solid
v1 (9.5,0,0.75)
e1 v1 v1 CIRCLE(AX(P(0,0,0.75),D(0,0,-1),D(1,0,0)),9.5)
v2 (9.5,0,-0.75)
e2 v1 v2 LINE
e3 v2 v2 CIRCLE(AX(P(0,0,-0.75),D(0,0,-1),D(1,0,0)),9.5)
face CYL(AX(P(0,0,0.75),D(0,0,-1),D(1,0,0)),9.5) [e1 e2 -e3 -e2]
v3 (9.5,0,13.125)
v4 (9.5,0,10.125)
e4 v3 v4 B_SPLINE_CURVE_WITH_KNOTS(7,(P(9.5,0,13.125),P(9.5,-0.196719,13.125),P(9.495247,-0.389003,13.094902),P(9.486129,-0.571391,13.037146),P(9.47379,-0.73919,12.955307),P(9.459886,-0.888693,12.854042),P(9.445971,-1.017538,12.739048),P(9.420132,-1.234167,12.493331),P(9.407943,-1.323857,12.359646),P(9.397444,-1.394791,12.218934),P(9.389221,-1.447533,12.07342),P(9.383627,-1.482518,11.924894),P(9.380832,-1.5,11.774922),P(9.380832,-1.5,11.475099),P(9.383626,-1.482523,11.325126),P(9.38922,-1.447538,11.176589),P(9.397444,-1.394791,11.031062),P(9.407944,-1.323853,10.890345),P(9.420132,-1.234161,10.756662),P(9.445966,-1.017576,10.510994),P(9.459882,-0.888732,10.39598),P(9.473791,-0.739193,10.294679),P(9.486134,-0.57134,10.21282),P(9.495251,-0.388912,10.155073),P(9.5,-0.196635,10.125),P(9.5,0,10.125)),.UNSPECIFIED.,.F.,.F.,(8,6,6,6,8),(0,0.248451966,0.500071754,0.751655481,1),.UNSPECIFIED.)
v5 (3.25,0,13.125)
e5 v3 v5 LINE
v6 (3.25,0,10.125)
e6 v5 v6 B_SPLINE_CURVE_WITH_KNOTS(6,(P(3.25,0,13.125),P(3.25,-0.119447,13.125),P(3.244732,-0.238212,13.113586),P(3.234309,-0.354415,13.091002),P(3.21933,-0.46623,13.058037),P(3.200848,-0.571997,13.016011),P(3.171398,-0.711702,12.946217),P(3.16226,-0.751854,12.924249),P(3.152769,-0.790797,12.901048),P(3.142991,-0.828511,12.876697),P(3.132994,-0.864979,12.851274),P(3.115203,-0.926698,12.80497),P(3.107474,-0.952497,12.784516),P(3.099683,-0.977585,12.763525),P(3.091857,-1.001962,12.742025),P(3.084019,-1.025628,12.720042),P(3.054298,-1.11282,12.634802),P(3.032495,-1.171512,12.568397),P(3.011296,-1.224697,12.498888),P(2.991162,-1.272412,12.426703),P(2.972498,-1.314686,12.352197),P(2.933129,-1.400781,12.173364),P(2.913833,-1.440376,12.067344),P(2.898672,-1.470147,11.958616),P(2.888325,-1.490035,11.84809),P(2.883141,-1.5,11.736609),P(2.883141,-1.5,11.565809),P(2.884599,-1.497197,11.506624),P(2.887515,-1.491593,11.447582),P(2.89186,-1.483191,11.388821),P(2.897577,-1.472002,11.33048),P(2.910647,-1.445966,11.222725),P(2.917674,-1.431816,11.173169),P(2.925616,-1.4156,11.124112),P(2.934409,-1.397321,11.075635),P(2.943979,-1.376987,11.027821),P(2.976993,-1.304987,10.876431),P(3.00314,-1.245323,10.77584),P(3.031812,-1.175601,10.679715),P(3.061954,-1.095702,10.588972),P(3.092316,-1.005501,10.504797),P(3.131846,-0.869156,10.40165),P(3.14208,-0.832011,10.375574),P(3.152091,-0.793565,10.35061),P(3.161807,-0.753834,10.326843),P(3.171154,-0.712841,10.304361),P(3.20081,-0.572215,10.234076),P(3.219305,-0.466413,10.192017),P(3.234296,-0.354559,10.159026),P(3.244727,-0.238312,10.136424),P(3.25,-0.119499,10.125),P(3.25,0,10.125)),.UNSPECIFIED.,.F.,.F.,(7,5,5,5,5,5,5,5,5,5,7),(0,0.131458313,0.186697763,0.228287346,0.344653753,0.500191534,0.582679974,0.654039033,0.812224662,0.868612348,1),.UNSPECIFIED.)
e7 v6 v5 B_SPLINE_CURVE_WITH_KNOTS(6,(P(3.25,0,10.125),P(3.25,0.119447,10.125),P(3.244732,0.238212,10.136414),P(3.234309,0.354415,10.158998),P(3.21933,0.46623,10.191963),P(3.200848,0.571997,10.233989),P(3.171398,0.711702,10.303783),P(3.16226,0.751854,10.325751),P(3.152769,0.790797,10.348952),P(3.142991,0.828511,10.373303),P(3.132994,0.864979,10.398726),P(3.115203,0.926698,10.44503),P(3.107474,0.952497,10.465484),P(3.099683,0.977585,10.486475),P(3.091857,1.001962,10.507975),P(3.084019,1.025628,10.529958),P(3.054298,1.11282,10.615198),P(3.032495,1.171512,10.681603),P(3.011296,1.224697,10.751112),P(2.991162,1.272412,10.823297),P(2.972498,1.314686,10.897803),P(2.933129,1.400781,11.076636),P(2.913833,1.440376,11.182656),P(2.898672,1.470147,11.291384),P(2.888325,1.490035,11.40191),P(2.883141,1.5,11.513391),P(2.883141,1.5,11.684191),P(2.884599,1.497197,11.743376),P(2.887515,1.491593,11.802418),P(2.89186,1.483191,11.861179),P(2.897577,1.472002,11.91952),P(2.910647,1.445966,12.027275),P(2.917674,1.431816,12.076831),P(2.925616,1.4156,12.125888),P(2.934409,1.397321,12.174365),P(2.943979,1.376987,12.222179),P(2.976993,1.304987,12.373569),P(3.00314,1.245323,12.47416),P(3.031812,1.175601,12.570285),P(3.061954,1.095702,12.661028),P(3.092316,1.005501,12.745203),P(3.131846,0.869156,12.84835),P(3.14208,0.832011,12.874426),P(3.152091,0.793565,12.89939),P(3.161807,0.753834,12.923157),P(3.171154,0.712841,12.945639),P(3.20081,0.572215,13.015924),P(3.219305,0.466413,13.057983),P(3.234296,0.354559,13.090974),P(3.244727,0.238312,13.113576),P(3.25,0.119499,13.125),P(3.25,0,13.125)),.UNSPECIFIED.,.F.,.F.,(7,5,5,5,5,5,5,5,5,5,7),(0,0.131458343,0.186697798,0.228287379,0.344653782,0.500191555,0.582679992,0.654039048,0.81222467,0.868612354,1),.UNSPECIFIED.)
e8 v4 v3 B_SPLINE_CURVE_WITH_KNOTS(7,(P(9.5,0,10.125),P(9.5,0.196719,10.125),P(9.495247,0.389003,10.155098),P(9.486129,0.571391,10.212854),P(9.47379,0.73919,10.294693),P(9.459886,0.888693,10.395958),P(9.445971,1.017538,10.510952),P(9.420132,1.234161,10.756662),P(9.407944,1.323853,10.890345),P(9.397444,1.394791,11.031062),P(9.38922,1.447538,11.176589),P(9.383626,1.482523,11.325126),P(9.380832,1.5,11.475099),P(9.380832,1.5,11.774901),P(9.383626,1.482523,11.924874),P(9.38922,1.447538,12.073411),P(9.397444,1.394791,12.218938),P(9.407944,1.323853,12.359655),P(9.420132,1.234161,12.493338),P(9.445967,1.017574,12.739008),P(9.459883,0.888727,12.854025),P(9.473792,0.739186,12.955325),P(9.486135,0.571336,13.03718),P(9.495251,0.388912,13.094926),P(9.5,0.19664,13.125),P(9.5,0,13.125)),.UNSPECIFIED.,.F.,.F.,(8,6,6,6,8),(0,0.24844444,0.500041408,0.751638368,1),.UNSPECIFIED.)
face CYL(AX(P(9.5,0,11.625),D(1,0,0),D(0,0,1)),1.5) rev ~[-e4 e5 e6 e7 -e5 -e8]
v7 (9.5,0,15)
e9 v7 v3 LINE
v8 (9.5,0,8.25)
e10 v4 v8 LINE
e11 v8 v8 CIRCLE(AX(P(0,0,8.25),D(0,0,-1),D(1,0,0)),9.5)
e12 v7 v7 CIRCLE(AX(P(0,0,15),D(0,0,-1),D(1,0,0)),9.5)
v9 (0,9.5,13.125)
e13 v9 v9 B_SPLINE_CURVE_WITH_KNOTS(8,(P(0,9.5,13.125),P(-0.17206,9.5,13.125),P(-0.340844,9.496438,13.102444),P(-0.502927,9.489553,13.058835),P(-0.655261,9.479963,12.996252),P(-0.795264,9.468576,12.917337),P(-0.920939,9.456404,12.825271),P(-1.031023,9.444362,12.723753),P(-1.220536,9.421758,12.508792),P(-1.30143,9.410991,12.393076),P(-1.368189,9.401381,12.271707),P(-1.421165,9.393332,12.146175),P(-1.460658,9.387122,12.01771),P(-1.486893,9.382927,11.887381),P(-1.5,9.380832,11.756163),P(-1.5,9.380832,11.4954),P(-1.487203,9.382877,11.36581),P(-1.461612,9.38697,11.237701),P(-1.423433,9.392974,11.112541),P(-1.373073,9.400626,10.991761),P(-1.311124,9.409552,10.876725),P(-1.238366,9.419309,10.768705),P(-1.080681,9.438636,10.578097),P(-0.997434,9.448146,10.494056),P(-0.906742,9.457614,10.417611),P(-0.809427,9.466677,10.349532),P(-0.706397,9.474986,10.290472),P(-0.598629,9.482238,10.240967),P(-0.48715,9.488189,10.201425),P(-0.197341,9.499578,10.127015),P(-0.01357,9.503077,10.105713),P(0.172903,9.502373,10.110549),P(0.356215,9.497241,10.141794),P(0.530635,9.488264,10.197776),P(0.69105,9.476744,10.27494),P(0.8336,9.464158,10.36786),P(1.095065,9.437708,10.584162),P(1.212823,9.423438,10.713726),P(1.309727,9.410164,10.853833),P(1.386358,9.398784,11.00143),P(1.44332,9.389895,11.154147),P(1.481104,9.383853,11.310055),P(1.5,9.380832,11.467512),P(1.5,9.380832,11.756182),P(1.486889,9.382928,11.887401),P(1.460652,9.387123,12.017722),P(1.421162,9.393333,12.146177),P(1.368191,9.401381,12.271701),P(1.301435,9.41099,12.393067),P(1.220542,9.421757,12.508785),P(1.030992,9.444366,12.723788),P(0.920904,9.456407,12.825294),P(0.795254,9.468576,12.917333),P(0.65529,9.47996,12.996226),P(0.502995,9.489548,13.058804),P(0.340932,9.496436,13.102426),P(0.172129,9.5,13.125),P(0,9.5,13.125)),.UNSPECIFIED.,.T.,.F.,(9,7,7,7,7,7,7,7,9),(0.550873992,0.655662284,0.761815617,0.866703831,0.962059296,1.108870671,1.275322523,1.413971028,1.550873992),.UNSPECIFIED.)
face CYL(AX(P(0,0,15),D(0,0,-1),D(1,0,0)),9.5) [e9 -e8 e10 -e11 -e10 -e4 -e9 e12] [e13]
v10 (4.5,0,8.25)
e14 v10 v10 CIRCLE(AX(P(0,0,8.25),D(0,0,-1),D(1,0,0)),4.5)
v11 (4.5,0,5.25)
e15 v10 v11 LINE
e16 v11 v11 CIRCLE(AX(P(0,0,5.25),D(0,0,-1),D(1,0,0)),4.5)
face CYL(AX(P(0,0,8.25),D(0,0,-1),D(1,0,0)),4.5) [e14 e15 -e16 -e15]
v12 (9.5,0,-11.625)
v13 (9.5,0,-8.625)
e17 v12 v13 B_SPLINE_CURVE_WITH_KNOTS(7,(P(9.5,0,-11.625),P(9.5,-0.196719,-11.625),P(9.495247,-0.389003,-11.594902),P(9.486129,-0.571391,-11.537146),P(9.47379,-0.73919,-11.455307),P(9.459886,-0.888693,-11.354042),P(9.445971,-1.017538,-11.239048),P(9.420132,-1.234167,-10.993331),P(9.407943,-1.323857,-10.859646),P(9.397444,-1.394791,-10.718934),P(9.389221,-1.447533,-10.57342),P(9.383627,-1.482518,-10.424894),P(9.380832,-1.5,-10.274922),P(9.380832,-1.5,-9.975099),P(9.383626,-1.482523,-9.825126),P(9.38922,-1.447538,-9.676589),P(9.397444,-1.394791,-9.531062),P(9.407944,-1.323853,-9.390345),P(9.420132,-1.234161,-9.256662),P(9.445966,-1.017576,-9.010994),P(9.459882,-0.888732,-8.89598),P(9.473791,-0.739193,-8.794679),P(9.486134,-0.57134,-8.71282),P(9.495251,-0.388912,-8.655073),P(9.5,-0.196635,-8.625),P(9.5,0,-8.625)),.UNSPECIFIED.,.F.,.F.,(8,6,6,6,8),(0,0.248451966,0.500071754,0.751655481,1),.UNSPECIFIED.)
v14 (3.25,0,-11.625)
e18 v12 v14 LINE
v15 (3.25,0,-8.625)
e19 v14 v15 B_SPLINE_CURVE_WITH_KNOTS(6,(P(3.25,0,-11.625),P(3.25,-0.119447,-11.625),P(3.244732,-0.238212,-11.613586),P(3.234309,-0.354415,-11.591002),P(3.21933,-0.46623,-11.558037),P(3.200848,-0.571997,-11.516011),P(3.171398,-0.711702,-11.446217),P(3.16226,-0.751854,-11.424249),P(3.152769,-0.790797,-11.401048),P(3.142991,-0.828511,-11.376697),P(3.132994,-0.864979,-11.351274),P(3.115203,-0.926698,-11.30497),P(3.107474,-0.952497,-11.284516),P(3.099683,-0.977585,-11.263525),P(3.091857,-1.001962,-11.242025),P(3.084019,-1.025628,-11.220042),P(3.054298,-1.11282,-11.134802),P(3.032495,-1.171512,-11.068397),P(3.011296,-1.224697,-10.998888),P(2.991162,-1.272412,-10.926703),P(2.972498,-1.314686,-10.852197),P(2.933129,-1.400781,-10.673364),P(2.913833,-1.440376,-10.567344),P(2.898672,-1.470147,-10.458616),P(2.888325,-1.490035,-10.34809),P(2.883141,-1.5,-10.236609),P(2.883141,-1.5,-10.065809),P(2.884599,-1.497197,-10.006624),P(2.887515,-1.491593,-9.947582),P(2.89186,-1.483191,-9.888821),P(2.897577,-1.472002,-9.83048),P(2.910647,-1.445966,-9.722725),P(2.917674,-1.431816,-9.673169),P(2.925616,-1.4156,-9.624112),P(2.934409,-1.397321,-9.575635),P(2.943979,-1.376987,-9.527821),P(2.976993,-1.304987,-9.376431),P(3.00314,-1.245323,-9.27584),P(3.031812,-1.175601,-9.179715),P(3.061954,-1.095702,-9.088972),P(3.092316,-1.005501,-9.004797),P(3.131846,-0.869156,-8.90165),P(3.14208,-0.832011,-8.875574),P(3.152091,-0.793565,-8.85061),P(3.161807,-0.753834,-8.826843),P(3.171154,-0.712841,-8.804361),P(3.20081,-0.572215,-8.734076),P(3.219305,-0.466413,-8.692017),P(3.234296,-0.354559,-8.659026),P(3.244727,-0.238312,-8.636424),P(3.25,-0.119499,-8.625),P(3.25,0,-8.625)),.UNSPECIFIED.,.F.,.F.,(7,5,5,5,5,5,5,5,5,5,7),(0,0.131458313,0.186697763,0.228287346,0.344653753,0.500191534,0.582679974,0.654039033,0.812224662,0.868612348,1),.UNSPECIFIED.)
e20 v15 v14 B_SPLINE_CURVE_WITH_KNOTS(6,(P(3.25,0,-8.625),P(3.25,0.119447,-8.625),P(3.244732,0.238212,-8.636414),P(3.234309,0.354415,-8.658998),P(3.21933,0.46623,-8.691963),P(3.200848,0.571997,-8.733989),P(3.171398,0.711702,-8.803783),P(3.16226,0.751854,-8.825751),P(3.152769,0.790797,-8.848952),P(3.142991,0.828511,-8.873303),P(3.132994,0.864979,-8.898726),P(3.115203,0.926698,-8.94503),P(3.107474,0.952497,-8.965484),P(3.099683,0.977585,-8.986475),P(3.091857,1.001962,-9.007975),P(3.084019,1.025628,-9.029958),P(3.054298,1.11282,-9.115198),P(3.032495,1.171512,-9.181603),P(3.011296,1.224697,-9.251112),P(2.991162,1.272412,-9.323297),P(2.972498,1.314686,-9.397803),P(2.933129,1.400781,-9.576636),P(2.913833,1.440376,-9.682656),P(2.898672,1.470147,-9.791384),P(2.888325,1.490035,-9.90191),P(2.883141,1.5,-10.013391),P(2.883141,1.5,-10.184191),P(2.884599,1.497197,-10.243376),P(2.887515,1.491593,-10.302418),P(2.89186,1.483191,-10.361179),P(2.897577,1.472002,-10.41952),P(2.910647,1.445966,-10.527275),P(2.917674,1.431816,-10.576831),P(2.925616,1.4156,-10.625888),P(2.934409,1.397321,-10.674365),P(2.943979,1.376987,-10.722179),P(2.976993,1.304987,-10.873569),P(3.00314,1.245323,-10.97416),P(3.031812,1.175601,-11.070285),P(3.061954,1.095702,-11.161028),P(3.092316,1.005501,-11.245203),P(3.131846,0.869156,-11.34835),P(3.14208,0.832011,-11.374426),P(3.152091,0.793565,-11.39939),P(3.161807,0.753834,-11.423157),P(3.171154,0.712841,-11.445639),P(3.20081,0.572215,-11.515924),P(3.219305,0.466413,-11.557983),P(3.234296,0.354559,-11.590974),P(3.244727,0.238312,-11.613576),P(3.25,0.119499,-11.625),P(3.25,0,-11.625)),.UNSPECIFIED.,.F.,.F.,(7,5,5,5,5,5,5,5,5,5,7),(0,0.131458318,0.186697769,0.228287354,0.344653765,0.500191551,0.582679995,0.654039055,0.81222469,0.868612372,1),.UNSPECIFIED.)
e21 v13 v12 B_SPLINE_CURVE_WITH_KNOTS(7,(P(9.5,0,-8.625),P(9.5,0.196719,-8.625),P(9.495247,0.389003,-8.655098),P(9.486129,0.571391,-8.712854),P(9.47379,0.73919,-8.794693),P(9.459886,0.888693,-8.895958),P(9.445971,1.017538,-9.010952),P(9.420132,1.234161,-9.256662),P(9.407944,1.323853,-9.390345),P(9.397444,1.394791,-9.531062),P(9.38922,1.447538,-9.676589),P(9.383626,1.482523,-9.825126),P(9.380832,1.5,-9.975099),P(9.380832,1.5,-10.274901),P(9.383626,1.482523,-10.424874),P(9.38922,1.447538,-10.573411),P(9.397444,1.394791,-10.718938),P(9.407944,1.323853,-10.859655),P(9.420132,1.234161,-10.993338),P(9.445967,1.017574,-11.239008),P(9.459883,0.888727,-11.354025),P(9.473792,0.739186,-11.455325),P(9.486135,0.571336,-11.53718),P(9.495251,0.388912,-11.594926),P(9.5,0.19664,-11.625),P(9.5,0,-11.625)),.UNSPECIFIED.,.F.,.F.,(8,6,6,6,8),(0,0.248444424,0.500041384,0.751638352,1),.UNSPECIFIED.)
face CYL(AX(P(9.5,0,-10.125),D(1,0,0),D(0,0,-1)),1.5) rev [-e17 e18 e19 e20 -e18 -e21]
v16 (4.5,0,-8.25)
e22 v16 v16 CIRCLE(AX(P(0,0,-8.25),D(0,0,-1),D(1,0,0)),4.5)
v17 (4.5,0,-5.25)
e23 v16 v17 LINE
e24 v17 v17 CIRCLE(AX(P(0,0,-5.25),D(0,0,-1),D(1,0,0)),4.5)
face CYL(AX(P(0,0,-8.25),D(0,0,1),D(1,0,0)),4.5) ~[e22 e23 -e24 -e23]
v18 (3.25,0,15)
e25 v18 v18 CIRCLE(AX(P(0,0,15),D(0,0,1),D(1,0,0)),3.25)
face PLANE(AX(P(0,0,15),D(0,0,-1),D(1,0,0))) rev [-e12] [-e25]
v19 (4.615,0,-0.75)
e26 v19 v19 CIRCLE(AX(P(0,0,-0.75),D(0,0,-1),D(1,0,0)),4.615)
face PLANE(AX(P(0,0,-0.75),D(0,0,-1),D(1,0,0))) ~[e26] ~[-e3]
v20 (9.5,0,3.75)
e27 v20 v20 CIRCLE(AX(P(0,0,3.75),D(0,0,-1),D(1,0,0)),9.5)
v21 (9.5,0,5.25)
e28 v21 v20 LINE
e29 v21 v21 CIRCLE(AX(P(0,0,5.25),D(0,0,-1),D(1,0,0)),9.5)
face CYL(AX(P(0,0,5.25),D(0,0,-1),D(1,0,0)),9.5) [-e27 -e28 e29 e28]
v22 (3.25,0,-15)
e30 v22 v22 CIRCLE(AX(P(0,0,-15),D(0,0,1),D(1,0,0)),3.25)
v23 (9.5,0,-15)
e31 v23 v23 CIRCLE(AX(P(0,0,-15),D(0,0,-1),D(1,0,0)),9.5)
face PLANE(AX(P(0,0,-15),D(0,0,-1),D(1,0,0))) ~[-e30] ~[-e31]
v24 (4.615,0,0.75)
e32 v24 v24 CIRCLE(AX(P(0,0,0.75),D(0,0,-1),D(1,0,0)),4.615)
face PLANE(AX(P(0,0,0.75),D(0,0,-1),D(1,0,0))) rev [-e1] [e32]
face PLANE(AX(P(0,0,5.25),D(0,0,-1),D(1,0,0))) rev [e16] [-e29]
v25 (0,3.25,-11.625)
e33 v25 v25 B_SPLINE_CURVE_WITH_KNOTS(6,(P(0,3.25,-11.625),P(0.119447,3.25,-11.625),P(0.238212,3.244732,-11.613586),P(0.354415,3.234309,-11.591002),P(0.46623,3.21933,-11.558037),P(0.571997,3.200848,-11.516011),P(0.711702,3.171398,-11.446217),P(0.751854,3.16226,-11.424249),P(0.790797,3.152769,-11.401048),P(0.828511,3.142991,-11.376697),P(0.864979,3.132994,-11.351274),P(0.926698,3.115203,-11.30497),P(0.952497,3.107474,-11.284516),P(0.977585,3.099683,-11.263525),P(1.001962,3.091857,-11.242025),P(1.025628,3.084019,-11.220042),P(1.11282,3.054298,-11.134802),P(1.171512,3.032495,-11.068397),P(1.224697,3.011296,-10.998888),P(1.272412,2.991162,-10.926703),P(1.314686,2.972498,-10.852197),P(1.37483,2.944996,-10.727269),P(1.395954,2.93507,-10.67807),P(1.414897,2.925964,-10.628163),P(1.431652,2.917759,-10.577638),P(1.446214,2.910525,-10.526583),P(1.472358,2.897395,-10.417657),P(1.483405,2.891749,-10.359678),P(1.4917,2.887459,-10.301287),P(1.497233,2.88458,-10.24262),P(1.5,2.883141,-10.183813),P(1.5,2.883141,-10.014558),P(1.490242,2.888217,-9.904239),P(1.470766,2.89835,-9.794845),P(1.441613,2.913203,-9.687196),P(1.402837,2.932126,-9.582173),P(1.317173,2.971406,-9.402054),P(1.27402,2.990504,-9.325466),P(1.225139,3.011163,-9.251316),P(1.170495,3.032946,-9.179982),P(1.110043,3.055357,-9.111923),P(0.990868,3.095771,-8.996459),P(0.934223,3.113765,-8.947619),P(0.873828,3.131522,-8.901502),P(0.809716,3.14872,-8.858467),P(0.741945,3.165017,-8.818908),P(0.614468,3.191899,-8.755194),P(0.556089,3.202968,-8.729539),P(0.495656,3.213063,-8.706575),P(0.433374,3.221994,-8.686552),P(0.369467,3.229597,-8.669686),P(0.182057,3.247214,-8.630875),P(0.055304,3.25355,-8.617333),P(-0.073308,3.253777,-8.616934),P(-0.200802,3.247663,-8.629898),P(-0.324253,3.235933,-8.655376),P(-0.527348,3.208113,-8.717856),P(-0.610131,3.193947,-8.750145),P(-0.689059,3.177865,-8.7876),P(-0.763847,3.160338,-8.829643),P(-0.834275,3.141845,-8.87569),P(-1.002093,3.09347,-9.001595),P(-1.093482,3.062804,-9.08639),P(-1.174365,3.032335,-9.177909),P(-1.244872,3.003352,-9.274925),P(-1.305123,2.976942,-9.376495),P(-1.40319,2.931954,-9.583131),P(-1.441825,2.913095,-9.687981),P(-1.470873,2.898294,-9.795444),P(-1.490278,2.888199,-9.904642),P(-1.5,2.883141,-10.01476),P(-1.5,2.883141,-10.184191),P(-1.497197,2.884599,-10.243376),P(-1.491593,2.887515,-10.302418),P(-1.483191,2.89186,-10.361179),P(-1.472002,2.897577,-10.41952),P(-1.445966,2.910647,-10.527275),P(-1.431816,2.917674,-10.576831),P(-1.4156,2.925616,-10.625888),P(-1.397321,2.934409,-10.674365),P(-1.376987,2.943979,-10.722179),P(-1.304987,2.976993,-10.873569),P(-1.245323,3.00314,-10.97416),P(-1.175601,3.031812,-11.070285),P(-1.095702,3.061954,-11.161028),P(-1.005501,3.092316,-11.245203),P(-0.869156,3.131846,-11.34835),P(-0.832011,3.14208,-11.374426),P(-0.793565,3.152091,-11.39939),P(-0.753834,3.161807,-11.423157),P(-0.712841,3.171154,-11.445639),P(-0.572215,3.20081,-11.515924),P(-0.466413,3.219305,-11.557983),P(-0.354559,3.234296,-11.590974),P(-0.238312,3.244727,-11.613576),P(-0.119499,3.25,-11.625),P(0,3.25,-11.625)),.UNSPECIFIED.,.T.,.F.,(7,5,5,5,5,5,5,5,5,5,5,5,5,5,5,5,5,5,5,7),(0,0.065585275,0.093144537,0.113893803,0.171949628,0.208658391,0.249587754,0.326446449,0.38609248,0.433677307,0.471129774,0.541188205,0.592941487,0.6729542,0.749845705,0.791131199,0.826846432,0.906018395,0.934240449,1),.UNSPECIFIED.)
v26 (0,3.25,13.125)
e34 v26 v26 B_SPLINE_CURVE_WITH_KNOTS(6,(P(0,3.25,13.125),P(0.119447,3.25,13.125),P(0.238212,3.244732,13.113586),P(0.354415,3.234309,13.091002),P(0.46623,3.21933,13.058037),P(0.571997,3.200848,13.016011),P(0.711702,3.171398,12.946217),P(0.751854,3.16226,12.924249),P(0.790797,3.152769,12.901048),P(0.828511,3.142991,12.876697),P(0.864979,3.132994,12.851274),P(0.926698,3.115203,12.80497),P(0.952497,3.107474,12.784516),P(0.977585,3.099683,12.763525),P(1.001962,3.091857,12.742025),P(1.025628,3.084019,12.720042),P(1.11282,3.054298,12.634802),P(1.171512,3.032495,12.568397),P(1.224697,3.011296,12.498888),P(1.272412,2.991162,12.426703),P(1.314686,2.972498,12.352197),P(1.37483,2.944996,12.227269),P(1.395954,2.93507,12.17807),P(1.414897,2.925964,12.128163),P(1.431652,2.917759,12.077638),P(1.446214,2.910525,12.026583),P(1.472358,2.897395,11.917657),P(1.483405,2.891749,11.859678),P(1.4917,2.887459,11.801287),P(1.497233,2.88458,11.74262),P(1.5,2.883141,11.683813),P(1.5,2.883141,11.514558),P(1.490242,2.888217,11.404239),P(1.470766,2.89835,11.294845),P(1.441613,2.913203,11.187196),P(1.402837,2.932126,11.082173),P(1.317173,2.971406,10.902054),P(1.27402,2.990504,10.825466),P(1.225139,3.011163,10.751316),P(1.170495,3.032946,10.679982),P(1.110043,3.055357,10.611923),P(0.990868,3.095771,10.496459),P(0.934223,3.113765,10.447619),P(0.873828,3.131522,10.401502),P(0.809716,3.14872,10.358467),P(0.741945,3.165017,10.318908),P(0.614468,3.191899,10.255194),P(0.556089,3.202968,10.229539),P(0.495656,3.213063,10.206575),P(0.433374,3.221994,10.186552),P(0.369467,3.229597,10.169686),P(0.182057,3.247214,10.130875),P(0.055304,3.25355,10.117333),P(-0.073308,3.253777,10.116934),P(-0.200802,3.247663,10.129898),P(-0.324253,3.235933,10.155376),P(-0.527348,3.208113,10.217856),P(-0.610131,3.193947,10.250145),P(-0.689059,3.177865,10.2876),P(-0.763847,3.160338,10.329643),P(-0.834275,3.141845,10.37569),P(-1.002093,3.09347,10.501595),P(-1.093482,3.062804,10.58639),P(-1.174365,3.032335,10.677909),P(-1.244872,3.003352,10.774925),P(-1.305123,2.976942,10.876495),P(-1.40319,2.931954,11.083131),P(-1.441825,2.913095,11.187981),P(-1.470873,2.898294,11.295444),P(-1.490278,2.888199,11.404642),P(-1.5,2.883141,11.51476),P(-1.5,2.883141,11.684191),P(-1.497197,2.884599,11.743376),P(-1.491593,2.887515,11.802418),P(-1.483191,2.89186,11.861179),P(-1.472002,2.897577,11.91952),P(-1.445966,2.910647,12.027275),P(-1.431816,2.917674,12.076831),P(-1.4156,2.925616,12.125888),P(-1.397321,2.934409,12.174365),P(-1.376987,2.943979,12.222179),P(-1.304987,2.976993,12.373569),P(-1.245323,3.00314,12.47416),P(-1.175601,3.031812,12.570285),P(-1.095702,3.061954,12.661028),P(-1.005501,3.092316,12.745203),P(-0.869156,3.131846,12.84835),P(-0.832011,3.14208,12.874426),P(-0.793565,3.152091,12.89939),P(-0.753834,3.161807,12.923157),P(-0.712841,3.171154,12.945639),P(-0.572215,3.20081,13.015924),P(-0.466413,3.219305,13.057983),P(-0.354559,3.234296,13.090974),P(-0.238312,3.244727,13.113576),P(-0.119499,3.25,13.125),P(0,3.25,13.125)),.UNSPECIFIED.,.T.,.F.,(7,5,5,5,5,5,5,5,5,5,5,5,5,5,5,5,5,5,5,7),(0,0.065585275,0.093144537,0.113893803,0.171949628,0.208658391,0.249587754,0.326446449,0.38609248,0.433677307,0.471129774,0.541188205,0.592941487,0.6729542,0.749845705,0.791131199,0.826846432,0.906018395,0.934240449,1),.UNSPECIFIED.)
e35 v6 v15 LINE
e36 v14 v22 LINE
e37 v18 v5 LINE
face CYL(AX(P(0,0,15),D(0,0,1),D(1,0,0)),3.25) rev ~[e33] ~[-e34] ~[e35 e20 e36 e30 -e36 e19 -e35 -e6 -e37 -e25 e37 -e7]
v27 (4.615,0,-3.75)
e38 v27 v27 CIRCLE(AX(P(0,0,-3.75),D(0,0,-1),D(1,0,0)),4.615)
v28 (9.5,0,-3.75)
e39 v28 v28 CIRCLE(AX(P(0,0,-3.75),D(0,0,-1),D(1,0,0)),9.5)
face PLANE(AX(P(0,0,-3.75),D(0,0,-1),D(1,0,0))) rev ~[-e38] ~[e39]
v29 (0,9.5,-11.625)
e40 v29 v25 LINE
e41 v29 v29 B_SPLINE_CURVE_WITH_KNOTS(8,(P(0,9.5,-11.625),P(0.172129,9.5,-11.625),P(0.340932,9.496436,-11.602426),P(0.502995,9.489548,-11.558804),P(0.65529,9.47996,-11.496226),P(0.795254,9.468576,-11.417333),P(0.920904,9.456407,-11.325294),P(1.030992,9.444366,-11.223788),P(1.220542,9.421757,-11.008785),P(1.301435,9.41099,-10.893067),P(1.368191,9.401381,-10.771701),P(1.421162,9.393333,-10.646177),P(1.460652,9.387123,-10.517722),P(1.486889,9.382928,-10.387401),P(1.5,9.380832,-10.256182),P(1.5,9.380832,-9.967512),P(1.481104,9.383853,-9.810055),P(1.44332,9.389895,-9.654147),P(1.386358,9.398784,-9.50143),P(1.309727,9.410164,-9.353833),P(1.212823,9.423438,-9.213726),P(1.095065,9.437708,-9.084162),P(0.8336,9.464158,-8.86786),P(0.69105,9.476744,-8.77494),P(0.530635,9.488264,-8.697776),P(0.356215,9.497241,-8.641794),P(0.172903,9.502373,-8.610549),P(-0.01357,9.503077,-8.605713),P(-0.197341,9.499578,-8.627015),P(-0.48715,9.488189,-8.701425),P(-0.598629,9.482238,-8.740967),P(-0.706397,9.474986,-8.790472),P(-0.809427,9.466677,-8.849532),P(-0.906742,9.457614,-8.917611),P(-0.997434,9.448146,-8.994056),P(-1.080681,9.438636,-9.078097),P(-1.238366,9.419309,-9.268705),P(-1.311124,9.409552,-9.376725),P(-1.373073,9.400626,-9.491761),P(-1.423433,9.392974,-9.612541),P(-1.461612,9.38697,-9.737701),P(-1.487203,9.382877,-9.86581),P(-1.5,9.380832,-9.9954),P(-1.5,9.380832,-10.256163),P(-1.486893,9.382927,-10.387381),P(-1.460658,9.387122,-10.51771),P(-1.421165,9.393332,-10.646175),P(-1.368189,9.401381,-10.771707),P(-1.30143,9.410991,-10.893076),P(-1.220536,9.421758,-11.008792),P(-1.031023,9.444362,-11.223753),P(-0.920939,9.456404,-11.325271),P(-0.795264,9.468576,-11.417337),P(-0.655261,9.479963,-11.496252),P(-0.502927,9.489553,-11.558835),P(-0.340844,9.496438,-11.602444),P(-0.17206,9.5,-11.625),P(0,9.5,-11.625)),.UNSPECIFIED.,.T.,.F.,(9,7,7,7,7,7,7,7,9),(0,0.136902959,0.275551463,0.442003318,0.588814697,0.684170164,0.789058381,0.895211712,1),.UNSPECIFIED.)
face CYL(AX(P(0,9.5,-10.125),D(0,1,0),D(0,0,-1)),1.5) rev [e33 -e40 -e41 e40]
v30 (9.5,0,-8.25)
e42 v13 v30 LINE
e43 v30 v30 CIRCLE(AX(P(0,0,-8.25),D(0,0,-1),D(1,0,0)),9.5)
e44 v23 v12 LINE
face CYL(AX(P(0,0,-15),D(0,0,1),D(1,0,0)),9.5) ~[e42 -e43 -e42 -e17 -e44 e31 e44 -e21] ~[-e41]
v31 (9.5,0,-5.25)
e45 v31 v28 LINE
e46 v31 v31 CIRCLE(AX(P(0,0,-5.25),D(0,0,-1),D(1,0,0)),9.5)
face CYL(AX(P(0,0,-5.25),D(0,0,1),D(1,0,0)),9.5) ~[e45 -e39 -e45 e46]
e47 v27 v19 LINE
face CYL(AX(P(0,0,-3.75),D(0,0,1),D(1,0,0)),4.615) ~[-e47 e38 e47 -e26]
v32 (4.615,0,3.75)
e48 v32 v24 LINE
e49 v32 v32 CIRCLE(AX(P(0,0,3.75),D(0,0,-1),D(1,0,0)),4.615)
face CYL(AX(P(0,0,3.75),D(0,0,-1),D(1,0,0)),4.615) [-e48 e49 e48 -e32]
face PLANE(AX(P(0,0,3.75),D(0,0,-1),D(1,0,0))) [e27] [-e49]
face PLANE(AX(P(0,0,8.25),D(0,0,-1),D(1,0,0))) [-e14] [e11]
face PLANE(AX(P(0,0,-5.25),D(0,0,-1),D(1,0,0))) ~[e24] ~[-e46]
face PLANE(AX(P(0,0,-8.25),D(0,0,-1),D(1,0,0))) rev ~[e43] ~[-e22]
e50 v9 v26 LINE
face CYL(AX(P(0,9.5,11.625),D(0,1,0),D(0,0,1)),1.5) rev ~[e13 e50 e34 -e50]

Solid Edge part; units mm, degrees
sketch "Sketch1" plane through (0, 0, 0) normal (0, -1, 0) x (1, 0, 0)
  line L0 (9.5, 0.75) -> (9.5, 0)
  line L1 (9.5, -0.75) -> (9.5, 0)
  line L2 (4.615, -0.75) -> (9.5, -0.75)
  line L3 (4.615, -3.75) -> (4.615, -0.75)
  line L4 (9.5, -3.75) -> (4.615, -3.75)
  line L5 (9.5, -5.25) -> (9.5, -3.75)
  line L6 (4.5, -5.25) -> (9.5, -5.25)
  line L7 (4.5, -8.25) -> (4.5, -5.25)
  line L8 (9.5, -8.25) -> (4.5, -8.25)
  line L9 (9.5, -15) -> (9.5, -8.25)
  line L10 (0, -15) -> (9.5, -15)
  line L11 (0, 0) -> (0, -15)
  line L12 (0, 0) -> (0, 15)
  line L13 (0, 15) -> (9.5, 15)
  line L14 (9.5, 15) -> (9.5, 8.25)
  line L15 (9.5, 8.25) -> (4.5, 8.25)
  line L16 (4.5, 8.25) -> (4.5, 5.25)
  line L17 (4.5, 5.25) -> (9.5, 5.25)
  line L18 (9.5, 5.25) -> (9.5, 3.75)
  line L19 (9.5, 3.75) -> (4.615, 3.75)
  line L20 (4.615, 3.75) -> (4.615, 0.75)
  line L21 (4.615, 0.75) -> (9.5, 0.75)
revolve "RevolvedProtrusion1" add sketch "Sketch1" angle 360 about axis through (0, 0, 0) along (0, 0, -1)
sketch "Sketch2" plane through (0, 0, 15) normal (0, 0, 1) x (1, 0, 0)
  circle A0 centre (0, 0) radius 3.25
extrude "ExtrudedCutout_1" cut sketch "Sketch2" against normal blind 30
sketch "Sketch3" plane through (0, 9.5, 11.625) normal (0, 1, 0) x (0, 0, 1)
  circle A0 centre (0, 0) radius 1.5
extrude "ExtrudedCutout_2" cut sketch "Sketch3" against normal blind 8
mirror "Mirror1" about plane through (0, 0, 0.75) normal (0, 0, 1) of "ExtrudedCutout_2"
pattern_circular "Pattern2" count 2 over 90 about axis through (0, 0, 15) along (0, 0, -1) of "ExtrudedCutout_2", "Mirror1"
properties material "Aluminium"
